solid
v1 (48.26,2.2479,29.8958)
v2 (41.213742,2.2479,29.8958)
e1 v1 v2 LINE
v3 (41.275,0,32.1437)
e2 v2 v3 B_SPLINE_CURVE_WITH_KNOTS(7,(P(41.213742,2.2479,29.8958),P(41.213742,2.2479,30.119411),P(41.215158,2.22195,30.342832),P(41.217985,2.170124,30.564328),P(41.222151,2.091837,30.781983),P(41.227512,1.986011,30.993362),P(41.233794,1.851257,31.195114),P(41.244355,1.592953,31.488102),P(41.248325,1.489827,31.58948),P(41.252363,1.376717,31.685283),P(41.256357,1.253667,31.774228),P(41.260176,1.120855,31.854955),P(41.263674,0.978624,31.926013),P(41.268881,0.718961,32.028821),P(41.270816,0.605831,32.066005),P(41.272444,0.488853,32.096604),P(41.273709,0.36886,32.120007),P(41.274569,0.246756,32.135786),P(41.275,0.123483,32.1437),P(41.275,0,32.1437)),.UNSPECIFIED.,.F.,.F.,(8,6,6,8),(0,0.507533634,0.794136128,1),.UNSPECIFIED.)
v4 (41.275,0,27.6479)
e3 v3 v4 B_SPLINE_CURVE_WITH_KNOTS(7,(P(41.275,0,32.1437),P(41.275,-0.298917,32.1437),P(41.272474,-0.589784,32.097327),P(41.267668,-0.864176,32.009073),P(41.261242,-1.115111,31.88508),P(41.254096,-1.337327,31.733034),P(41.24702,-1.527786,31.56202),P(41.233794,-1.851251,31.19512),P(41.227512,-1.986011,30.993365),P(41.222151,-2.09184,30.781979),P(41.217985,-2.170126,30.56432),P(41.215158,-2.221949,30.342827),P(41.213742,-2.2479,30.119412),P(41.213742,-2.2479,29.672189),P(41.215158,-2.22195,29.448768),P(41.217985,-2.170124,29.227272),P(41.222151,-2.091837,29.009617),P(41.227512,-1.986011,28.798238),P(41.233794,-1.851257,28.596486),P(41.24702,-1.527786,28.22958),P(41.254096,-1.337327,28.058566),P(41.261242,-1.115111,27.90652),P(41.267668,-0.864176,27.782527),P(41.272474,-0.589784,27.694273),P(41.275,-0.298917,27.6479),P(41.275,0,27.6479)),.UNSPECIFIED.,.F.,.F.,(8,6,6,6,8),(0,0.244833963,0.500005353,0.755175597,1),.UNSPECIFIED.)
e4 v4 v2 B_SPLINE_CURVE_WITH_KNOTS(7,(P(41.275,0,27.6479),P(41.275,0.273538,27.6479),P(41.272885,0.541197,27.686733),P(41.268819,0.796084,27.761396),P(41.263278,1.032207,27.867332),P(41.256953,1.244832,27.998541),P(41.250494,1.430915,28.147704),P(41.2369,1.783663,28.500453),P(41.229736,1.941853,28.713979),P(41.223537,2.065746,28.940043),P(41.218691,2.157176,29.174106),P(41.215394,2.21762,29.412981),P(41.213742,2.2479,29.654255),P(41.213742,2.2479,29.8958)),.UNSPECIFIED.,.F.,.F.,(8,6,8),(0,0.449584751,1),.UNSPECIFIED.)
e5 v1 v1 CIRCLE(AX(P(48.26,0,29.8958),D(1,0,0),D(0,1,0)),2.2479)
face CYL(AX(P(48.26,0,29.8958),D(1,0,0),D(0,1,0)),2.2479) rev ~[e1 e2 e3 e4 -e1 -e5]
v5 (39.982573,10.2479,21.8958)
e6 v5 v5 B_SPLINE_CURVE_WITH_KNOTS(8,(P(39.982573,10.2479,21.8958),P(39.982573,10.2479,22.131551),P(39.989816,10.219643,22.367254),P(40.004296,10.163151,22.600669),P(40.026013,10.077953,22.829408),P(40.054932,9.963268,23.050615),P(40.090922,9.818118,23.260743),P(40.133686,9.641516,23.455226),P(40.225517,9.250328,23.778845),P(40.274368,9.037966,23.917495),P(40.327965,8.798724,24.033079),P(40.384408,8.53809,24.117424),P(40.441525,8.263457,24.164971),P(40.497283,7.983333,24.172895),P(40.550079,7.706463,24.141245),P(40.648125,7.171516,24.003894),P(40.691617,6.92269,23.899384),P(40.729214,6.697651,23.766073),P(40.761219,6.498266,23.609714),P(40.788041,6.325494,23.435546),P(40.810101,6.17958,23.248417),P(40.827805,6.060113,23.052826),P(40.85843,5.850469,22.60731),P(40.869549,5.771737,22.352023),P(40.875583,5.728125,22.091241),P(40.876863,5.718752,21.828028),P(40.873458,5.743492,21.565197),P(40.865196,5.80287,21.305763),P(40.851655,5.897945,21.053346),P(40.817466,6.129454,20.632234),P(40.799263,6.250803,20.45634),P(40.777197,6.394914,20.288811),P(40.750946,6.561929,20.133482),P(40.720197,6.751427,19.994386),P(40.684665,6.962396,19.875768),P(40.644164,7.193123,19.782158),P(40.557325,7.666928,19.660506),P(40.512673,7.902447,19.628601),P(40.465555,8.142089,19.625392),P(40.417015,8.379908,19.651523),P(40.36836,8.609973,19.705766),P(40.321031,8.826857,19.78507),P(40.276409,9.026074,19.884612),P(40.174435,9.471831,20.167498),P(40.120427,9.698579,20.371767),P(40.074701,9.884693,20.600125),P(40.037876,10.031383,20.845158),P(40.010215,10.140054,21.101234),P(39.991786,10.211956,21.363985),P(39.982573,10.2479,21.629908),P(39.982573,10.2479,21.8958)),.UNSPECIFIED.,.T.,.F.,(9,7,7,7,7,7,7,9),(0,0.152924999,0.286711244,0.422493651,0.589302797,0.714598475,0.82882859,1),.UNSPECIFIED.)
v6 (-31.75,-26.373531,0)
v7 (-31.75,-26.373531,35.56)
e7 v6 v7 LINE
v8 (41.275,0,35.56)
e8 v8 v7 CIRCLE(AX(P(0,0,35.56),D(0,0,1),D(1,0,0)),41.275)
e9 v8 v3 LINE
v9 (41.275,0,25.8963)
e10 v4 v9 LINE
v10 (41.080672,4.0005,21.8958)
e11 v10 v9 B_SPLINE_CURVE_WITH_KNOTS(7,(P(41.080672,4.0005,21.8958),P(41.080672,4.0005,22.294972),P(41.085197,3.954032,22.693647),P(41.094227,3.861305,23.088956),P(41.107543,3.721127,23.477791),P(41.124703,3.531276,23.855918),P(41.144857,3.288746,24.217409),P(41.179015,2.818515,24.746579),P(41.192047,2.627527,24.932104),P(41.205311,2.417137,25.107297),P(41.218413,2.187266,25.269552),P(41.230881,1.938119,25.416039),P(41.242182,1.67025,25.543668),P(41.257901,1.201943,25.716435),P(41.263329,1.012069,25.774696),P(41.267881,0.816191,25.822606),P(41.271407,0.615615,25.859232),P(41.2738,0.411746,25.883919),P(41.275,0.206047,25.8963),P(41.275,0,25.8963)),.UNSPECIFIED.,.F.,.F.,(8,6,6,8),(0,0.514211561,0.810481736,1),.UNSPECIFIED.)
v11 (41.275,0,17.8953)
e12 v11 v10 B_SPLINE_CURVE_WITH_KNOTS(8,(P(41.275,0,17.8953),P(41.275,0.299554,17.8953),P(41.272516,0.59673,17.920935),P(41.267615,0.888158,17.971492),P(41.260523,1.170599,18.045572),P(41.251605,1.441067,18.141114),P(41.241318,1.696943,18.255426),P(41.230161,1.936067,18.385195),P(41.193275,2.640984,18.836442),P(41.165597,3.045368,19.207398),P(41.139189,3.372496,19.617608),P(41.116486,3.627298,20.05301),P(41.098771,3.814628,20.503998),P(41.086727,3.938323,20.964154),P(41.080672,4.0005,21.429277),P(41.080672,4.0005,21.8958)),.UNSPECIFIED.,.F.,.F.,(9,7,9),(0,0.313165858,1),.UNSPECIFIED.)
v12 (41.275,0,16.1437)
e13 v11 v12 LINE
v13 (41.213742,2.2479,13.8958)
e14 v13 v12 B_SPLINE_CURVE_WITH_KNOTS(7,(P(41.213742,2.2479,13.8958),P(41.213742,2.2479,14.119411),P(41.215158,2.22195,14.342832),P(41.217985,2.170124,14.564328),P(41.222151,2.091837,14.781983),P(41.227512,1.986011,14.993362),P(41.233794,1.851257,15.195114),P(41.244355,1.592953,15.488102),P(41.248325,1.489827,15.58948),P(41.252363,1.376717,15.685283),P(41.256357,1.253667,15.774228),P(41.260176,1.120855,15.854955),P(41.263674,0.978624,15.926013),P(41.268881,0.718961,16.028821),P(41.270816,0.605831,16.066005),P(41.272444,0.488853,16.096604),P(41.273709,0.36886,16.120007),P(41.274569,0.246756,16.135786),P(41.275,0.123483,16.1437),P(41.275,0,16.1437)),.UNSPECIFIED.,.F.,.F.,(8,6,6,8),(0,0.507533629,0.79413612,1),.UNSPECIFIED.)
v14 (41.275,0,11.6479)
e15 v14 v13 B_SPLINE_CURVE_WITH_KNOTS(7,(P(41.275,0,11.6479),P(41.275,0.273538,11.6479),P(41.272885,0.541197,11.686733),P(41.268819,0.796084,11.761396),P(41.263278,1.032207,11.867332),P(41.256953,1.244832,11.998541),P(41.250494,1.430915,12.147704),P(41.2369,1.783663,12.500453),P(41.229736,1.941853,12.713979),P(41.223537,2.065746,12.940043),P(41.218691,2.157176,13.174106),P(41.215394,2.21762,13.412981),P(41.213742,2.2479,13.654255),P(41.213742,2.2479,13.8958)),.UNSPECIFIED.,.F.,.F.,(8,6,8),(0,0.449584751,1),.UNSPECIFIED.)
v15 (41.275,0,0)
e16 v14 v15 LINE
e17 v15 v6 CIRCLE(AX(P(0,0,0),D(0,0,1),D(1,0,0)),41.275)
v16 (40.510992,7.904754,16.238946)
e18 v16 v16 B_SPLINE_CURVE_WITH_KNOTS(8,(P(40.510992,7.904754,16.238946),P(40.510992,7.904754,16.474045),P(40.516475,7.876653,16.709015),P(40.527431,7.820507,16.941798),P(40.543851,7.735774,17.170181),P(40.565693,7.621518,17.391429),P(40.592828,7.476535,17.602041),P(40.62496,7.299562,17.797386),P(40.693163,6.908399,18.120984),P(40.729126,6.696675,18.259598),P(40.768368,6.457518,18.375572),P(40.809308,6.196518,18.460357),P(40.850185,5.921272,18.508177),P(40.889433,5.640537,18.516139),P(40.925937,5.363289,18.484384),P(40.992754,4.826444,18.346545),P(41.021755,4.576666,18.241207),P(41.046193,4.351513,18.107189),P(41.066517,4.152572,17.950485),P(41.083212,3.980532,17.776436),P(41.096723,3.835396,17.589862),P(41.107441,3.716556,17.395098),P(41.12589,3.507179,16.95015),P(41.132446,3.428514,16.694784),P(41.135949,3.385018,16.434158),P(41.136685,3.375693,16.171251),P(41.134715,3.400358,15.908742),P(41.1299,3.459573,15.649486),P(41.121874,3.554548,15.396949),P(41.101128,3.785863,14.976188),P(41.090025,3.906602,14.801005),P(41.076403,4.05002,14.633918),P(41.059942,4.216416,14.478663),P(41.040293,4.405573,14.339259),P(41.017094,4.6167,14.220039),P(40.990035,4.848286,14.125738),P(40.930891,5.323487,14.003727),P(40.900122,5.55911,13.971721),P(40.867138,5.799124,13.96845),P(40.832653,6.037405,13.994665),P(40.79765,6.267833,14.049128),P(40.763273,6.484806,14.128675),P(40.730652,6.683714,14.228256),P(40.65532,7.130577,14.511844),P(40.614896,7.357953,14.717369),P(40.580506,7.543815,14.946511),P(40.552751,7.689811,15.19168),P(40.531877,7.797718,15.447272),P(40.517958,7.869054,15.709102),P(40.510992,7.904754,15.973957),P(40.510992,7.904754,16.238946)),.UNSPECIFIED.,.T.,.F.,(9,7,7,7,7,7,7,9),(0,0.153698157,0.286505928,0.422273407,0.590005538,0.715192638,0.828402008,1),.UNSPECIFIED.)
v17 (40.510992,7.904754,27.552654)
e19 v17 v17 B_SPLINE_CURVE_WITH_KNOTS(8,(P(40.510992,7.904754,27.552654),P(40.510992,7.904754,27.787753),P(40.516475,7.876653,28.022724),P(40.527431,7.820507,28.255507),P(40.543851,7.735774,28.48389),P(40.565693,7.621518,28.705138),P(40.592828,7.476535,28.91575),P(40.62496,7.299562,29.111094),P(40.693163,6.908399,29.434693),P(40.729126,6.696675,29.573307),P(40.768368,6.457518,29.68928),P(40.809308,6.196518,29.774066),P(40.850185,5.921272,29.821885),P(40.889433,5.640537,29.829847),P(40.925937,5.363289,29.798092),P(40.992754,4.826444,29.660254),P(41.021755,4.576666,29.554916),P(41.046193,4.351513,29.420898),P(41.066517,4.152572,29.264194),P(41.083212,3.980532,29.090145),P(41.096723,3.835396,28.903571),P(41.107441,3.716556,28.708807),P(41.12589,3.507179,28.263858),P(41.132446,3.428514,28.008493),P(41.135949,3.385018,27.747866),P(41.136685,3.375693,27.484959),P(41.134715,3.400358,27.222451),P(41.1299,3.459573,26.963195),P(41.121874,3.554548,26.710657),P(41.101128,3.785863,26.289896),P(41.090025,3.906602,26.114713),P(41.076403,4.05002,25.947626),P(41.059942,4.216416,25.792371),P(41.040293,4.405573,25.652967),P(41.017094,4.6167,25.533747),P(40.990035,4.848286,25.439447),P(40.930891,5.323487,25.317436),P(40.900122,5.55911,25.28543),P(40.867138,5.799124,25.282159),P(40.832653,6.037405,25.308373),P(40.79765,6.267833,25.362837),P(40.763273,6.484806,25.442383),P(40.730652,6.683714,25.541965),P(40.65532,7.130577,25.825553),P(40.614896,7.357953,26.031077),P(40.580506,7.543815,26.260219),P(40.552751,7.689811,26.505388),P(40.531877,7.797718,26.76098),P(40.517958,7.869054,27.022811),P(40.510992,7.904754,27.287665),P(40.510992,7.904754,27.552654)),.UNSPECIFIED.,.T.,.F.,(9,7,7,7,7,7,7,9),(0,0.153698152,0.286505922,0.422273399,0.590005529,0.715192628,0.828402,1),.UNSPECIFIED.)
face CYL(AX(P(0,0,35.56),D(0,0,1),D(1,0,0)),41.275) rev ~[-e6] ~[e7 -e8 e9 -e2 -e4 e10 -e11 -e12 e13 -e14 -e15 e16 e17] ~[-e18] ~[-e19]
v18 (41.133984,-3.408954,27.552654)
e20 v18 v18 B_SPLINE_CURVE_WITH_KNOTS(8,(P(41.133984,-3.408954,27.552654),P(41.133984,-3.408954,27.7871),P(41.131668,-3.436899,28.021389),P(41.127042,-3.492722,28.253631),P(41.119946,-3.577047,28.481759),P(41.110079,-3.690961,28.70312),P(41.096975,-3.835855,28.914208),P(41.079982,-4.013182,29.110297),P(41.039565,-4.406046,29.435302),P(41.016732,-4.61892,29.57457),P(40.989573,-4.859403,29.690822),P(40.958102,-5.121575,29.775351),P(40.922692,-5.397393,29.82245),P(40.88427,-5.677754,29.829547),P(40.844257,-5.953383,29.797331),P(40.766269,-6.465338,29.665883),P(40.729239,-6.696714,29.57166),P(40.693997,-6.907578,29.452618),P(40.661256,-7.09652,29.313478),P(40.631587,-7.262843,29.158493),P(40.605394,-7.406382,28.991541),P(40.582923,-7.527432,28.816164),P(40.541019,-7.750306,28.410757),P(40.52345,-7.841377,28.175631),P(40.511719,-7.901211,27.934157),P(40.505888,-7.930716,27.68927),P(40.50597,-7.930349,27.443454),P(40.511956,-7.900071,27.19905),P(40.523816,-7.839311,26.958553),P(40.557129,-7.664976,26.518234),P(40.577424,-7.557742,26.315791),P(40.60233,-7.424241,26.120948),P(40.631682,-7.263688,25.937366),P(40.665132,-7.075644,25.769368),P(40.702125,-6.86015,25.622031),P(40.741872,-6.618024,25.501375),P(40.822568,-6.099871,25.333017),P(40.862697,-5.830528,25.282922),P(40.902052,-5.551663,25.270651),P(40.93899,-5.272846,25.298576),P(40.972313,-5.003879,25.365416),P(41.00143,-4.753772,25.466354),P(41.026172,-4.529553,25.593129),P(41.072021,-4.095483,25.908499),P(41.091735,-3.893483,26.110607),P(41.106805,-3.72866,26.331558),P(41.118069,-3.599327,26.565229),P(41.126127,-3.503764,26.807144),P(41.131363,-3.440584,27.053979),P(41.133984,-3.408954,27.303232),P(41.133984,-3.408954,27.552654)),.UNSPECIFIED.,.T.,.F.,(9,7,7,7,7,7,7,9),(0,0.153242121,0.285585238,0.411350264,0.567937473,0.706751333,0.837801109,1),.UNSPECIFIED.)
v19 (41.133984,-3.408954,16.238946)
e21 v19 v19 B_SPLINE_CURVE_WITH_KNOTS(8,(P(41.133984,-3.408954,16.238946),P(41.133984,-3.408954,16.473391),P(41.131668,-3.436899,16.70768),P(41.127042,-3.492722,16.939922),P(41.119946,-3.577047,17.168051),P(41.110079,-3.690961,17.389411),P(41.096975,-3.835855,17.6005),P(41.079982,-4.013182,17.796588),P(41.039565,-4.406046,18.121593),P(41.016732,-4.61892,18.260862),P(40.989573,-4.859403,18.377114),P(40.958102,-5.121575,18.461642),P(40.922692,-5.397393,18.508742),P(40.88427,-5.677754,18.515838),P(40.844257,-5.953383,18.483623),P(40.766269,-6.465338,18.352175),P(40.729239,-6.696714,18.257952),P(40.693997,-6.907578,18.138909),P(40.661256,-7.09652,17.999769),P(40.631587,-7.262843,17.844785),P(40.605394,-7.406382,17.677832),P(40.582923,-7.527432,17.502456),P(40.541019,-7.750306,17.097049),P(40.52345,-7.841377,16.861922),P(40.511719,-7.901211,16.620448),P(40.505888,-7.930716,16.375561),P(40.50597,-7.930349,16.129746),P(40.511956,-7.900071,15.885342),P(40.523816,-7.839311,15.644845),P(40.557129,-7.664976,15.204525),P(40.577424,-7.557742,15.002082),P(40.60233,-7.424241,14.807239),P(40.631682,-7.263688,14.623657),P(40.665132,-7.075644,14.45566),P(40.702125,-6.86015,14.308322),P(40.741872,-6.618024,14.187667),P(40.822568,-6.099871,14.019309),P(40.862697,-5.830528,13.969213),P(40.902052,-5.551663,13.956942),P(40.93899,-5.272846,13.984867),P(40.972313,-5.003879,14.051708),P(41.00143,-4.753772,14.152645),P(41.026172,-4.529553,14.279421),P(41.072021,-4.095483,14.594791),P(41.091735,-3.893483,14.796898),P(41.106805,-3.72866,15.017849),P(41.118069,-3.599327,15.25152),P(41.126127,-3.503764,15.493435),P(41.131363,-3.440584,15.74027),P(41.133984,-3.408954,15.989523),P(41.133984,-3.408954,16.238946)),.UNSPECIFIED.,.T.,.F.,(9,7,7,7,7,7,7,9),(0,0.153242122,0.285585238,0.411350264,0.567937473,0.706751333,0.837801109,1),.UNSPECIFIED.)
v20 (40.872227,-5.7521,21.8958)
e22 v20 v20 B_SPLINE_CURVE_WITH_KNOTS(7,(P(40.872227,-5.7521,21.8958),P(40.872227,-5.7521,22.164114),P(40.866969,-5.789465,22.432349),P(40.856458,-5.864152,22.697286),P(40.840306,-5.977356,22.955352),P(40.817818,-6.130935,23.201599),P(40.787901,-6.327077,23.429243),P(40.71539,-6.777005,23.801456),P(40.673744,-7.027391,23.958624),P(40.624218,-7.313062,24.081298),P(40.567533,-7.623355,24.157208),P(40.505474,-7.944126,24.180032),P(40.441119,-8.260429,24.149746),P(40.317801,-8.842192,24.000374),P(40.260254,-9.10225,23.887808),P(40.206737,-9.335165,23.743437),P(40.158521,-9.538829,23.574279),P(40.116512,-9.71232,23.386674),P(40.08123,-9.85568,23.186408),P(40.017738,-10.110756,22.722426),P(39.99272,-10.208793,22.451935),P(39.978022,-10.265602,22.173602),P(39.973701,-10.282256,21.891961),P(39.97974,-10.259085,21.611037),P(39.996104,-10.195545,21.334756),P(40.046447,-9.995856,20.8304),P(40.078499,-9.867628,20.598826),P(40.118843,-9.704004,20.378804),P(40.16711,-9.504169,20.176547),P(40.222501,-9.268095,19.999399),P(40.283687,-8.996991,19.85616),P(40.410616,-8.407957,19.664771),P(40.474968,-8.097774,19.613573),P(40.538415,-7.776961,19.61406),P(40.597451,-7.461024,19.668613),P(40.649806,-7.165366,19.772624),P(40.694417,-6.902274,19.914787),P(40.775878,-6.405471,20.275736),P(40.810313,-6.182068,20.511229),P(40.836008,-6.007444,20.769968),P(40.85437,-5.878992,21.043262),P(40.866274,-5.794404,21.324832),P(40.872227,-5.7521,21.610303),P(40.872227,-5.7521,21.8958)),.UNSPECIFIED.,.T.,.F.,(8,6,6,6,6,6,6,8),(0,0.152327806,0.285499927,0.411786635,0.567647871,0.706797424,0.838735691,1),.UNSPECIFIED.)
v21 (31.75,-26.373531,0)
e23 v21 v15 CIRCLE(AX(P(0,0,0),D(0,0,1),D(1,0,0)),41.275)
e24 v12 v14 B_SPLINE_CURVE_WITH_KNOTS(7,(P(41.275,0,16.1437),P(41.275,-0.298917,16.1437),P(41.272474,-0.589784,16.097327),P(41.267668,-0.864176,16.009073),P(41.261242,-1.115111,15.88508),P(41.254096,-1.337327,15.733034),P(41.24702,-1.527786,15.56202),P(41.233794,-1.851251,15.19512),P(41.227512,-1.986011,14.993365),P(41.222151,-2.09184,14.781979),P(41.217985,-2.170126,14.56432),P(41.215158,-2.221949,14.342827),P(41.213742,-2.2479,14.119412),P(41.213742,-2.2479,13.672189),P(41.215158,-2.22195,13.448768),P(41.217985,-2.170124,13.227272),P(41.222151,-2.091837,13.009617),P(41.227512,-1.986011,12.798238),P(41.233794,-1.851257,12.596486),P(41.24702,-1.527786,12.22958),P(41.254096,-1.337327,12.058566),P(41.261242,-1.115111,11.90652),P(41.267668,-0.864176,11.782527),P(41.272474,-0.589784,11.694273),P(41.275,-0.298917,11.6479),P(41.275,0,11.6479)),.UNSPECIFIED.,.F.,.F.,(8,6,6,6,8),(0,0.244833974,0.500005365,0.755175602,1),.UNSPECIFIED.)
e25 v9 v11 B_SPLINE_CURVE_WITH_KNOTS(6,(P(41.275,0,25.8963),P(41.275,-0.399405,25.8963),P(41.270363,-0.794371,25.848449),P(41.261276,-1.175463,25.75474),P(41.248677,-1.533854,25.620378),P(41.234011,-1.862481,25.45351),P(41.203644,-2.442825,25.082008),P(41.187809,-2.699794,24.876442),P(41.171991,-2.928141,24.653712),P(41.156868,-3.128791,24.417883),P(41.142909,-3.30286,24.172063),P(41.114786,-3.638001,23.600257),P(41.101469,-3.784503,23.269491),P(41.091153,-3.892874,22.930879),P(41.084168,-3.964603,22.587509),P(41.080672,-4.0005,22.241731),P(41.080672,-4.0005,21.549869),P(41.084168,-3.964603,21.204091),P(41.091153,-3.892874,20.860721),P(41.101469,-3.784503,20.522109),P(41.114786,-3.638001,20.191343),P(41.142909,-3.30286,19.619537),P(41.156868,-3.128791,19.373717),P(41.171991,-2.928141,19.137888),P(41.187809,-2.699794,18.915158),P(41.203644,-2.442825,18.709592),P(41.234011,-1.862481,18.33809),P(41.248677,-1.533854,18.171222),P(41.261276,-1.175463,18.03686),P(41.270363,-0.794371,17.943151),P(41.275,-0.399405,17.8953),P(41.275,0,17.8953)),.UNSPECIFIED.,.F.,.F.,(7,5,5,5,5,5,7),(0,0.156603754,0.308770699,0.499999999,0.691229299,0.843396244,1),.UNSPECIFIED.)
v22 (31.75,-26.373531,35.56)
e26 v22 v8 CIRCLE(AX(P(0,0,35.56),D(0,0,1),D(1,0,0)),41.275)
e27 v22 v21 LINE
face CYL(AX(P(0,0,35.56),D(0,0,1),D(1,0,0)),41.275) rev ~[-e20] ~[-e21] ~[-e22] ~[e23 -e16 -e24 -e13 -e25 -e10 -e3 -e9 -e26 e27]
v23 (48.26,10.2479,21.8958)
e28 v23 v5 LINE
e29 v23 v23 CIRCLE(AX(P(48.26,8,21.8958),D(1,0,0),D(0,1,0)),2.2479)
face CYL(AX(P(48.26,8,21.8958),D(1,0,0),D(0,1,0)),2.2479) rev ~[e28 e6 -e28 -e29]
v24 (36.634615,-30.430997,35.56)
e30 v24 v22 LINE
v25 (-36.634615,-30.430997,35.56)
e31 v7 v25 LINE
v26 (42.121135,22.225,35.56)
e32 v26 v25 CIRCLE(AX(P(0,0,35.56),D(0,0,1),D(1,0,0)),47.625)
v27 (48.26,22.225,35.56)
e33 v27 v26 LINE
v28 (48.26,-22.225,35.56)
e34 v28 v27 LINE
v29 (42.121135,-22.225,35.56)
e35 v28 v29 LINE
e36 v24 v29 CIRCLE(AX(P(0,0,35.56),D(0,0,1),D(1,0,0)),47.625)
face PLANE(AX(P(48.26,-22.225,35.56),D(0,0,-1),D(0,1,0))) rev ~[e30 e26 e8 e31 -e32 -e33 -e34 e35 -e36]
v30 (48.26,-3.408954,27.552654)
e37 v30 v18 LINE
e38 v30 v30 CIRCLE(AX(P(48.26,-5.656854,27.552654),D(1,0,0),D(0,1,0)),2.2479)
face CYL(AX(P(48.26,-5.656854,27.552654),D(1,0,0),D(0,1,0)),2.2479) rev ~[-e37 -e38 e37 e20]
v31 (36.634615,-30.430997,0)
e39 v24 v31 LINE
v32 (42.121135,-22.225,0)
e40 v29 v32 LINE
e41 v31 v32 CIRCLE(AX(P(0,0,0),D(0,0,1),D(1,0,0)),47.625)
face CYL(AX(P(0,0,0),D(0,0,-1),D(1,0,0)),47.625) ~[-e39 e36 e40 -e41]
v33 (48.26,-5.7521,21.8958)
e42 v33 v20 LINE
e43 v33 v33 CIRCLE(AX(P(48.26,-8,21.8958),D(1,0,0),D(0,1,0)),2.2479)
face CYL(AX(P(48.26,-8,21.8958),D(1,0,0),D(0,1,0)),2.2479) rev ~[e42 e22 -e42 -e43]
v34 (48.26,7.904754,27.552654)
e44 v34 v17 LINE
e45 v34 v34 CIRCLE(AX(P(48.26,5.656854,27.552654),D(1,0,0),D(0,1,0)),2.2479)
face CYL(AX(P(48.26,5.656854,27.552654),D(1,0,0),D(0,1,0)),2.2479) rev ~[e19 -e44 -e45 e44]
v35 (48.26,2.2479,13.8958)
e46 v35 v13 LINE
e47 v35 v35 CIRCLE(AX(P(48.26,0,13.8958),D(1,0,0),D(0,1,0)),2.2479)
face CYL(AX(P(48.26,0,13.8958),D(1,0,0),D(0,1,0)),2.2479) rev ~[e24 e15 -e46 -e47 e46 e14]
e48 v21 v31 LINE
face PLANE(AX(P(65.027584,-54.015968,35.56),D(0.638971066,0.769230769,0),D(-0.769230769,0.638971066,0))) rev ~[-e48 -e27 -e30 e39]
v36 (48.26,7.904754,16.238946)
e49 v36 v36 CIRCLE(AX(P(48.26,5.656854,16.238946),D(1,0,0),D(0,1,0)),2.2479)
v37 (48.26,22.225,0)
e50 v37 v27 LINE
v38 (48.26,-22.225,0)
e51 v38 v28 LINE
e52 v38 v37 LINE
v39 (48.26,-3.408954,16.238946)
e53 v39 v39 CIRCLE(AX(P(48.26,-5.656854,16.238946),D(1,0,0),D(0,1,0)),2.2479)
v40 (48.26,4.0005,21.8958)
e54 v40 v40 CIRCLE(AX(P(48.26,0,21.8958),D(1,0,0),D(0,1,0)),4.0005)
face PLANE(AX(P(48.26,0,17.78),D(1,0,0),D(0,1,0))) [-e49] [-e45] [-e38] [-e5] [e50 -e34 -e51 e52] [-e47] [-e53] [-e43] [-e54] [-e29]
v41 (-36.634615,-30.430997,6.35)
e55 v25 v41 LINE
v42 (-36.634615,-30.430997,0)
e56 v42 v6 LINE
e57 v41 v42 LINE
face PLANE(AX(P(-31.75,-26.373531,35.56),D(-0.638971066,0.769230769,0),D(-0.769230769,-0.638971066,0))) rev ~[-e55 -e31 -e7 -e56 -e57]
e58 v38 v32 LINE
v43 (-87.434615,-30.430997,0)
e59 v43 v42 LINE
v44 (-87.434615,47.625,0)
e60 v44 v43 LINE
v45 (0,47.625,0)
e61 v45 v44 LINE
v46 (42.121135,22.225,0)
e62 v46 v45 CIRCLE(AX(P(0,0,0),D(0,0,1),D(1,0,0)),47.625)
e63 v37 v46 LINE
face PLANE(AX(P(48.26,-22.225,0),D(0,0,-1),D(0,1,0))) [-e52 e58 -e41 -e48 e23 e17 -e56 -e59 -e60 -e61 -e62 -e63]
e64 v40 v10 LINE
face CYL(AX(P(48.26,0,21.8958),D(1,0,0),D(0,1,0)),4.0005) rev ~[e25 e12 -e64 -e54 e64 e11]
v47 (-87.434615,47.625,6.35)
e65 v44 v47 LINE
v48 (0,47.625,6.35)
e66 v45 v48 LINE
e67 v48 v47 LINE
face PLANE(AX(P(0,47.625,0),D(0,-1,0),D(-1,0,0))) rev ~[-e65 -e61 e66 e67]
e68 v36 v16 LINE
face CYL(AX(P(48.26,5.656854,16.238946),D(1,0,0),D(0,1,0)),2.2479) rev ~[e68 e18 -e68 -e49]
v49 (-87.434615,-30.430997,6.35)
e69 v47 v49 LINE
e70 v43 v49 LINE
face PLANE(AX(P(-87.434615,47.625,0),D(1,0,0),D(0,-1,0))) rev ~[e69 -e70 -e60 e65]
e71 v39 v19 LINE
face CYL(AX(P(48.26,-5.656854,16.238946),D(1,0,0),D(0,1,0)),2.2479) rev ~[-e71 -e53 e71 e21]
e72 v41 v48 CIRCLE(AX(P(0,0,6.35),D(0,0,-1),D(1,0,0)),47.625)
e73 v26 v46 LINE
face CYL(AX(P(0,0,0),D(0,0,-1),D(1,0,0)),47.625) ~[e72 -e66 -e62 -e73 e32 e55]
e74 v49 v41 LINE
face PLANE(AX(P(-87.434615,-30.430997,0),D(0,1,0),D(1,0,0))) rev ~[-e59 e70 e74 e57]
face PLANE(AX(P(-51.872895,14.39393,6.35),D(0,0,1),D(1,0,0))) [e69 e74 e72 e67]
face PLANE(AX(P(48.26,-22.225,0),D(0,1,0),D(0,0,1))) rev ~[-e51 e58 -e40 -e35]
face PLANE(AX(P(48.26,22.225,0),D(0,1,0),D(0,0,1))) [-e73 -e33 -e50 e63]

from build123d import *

# Parameters (mm, degrees)
F0_R      = 47.625
F1_DEPTH  = 35.56
F2_R      = 41.275
F3_DEPTH  = 35.561
F5_W      = 44.45
F5_H      = 35.56
F7_R      = 2.2479
F7_R_2    = 4.0005
F8_DEPTH  = 8.2784267637
F10_DEPTH = 35.5610001
F12_DEPTH = 6.35


with BuildPart() as f1:
    # F0 (on Top) → F1 (new body)
    with BuildSketch(Plane.XY):
        Circle(F0_R)
    extrude(amount=F1_DEPTH)

    # F2 (on face) → F3 (cut, through all)
    with BuildSketch(Plane.XY.offset(35.56)):
        Circle(F2_R)
    extrude(amount=-F3_DEPTH, mode=Mode.SUBTRACT)

    # F5 (on offset) → F6 (join, up to the next surface of F1)
    with BuildSketch(Plane.YZ.offset(48.26)):
        with Locations((0, 17.78)):
            Rectangle(F5_W, F5_H)
    extrude(until=Until.NEXT, dir=(-1, 0, 0))

    # F7 (on face) → F8 (cut, through all)
    with BuildSketch(Plane.YZ.offset(48.26)):
        with Locations((0, 29.8958)):
            Circle(F7_R)
        with Locations((-5.6568542495, 27.5526542495)):
            Circle(F7_R)
        with Locations((-8, 21.8958)):
            Circle(F7_R)
        with Locations((-5.6568542495, 16.2389457505)):
            Circle(F7_R)
        with Locations((0, 13.8958)):
            Circle(F7_R)
        with Locations((5.6568542495, 16.2389457505)):
            Circle(F7_R)
        with Locations((8, 21.8958)):
            Circle(F7_R)
        with Locations((5.6568542495, 27.5526542495)):
            Circle(F7_R)
        with Locations((0, 21.8958)):
            Circle(F7_R_2)
    extrude(amount=-F8_DEPTH, mode=Mode.SUBTRACT)

    # F9 (on face) → F10 (cut, through all)
    with BuildSketch(Plane.XY.offset(35.56)):
        Polygon((31.75, -26.3735307648), (-31.75, -26.3735307648), (-65.0275838732, -54.0159679949), (65.0275838732, -54.0159679949), align=None)
    extrude(amount=-F10_DEPTH, mode=Mode.SUBTRACT)

    # F11 (on Top) → F12 (join)
    with BuildSketch(Plane.XY):
        with BuildLine():
            Line((-36.6346153846, -30.4309970363), (-31.75, -26.3735307648))
            ThreePointArc((-31.75, -26.3735307648), (-37.3643754619, 17.536506817), (0, 41.275))
            Line((0, 41.275), (0, 47.625))
            Line((0, 47.625), (-87.4346153846, 47.625))
            Line((-87.4346153846, 47.625), (-87.4346153846, -30.4309970363))
            Line((-87.4346153846, -30.4309970363), (-36.6346153846, -30.4309970363))
        make_face()
    extrude(amount=F12_DEPTH)


solid = f1.part
